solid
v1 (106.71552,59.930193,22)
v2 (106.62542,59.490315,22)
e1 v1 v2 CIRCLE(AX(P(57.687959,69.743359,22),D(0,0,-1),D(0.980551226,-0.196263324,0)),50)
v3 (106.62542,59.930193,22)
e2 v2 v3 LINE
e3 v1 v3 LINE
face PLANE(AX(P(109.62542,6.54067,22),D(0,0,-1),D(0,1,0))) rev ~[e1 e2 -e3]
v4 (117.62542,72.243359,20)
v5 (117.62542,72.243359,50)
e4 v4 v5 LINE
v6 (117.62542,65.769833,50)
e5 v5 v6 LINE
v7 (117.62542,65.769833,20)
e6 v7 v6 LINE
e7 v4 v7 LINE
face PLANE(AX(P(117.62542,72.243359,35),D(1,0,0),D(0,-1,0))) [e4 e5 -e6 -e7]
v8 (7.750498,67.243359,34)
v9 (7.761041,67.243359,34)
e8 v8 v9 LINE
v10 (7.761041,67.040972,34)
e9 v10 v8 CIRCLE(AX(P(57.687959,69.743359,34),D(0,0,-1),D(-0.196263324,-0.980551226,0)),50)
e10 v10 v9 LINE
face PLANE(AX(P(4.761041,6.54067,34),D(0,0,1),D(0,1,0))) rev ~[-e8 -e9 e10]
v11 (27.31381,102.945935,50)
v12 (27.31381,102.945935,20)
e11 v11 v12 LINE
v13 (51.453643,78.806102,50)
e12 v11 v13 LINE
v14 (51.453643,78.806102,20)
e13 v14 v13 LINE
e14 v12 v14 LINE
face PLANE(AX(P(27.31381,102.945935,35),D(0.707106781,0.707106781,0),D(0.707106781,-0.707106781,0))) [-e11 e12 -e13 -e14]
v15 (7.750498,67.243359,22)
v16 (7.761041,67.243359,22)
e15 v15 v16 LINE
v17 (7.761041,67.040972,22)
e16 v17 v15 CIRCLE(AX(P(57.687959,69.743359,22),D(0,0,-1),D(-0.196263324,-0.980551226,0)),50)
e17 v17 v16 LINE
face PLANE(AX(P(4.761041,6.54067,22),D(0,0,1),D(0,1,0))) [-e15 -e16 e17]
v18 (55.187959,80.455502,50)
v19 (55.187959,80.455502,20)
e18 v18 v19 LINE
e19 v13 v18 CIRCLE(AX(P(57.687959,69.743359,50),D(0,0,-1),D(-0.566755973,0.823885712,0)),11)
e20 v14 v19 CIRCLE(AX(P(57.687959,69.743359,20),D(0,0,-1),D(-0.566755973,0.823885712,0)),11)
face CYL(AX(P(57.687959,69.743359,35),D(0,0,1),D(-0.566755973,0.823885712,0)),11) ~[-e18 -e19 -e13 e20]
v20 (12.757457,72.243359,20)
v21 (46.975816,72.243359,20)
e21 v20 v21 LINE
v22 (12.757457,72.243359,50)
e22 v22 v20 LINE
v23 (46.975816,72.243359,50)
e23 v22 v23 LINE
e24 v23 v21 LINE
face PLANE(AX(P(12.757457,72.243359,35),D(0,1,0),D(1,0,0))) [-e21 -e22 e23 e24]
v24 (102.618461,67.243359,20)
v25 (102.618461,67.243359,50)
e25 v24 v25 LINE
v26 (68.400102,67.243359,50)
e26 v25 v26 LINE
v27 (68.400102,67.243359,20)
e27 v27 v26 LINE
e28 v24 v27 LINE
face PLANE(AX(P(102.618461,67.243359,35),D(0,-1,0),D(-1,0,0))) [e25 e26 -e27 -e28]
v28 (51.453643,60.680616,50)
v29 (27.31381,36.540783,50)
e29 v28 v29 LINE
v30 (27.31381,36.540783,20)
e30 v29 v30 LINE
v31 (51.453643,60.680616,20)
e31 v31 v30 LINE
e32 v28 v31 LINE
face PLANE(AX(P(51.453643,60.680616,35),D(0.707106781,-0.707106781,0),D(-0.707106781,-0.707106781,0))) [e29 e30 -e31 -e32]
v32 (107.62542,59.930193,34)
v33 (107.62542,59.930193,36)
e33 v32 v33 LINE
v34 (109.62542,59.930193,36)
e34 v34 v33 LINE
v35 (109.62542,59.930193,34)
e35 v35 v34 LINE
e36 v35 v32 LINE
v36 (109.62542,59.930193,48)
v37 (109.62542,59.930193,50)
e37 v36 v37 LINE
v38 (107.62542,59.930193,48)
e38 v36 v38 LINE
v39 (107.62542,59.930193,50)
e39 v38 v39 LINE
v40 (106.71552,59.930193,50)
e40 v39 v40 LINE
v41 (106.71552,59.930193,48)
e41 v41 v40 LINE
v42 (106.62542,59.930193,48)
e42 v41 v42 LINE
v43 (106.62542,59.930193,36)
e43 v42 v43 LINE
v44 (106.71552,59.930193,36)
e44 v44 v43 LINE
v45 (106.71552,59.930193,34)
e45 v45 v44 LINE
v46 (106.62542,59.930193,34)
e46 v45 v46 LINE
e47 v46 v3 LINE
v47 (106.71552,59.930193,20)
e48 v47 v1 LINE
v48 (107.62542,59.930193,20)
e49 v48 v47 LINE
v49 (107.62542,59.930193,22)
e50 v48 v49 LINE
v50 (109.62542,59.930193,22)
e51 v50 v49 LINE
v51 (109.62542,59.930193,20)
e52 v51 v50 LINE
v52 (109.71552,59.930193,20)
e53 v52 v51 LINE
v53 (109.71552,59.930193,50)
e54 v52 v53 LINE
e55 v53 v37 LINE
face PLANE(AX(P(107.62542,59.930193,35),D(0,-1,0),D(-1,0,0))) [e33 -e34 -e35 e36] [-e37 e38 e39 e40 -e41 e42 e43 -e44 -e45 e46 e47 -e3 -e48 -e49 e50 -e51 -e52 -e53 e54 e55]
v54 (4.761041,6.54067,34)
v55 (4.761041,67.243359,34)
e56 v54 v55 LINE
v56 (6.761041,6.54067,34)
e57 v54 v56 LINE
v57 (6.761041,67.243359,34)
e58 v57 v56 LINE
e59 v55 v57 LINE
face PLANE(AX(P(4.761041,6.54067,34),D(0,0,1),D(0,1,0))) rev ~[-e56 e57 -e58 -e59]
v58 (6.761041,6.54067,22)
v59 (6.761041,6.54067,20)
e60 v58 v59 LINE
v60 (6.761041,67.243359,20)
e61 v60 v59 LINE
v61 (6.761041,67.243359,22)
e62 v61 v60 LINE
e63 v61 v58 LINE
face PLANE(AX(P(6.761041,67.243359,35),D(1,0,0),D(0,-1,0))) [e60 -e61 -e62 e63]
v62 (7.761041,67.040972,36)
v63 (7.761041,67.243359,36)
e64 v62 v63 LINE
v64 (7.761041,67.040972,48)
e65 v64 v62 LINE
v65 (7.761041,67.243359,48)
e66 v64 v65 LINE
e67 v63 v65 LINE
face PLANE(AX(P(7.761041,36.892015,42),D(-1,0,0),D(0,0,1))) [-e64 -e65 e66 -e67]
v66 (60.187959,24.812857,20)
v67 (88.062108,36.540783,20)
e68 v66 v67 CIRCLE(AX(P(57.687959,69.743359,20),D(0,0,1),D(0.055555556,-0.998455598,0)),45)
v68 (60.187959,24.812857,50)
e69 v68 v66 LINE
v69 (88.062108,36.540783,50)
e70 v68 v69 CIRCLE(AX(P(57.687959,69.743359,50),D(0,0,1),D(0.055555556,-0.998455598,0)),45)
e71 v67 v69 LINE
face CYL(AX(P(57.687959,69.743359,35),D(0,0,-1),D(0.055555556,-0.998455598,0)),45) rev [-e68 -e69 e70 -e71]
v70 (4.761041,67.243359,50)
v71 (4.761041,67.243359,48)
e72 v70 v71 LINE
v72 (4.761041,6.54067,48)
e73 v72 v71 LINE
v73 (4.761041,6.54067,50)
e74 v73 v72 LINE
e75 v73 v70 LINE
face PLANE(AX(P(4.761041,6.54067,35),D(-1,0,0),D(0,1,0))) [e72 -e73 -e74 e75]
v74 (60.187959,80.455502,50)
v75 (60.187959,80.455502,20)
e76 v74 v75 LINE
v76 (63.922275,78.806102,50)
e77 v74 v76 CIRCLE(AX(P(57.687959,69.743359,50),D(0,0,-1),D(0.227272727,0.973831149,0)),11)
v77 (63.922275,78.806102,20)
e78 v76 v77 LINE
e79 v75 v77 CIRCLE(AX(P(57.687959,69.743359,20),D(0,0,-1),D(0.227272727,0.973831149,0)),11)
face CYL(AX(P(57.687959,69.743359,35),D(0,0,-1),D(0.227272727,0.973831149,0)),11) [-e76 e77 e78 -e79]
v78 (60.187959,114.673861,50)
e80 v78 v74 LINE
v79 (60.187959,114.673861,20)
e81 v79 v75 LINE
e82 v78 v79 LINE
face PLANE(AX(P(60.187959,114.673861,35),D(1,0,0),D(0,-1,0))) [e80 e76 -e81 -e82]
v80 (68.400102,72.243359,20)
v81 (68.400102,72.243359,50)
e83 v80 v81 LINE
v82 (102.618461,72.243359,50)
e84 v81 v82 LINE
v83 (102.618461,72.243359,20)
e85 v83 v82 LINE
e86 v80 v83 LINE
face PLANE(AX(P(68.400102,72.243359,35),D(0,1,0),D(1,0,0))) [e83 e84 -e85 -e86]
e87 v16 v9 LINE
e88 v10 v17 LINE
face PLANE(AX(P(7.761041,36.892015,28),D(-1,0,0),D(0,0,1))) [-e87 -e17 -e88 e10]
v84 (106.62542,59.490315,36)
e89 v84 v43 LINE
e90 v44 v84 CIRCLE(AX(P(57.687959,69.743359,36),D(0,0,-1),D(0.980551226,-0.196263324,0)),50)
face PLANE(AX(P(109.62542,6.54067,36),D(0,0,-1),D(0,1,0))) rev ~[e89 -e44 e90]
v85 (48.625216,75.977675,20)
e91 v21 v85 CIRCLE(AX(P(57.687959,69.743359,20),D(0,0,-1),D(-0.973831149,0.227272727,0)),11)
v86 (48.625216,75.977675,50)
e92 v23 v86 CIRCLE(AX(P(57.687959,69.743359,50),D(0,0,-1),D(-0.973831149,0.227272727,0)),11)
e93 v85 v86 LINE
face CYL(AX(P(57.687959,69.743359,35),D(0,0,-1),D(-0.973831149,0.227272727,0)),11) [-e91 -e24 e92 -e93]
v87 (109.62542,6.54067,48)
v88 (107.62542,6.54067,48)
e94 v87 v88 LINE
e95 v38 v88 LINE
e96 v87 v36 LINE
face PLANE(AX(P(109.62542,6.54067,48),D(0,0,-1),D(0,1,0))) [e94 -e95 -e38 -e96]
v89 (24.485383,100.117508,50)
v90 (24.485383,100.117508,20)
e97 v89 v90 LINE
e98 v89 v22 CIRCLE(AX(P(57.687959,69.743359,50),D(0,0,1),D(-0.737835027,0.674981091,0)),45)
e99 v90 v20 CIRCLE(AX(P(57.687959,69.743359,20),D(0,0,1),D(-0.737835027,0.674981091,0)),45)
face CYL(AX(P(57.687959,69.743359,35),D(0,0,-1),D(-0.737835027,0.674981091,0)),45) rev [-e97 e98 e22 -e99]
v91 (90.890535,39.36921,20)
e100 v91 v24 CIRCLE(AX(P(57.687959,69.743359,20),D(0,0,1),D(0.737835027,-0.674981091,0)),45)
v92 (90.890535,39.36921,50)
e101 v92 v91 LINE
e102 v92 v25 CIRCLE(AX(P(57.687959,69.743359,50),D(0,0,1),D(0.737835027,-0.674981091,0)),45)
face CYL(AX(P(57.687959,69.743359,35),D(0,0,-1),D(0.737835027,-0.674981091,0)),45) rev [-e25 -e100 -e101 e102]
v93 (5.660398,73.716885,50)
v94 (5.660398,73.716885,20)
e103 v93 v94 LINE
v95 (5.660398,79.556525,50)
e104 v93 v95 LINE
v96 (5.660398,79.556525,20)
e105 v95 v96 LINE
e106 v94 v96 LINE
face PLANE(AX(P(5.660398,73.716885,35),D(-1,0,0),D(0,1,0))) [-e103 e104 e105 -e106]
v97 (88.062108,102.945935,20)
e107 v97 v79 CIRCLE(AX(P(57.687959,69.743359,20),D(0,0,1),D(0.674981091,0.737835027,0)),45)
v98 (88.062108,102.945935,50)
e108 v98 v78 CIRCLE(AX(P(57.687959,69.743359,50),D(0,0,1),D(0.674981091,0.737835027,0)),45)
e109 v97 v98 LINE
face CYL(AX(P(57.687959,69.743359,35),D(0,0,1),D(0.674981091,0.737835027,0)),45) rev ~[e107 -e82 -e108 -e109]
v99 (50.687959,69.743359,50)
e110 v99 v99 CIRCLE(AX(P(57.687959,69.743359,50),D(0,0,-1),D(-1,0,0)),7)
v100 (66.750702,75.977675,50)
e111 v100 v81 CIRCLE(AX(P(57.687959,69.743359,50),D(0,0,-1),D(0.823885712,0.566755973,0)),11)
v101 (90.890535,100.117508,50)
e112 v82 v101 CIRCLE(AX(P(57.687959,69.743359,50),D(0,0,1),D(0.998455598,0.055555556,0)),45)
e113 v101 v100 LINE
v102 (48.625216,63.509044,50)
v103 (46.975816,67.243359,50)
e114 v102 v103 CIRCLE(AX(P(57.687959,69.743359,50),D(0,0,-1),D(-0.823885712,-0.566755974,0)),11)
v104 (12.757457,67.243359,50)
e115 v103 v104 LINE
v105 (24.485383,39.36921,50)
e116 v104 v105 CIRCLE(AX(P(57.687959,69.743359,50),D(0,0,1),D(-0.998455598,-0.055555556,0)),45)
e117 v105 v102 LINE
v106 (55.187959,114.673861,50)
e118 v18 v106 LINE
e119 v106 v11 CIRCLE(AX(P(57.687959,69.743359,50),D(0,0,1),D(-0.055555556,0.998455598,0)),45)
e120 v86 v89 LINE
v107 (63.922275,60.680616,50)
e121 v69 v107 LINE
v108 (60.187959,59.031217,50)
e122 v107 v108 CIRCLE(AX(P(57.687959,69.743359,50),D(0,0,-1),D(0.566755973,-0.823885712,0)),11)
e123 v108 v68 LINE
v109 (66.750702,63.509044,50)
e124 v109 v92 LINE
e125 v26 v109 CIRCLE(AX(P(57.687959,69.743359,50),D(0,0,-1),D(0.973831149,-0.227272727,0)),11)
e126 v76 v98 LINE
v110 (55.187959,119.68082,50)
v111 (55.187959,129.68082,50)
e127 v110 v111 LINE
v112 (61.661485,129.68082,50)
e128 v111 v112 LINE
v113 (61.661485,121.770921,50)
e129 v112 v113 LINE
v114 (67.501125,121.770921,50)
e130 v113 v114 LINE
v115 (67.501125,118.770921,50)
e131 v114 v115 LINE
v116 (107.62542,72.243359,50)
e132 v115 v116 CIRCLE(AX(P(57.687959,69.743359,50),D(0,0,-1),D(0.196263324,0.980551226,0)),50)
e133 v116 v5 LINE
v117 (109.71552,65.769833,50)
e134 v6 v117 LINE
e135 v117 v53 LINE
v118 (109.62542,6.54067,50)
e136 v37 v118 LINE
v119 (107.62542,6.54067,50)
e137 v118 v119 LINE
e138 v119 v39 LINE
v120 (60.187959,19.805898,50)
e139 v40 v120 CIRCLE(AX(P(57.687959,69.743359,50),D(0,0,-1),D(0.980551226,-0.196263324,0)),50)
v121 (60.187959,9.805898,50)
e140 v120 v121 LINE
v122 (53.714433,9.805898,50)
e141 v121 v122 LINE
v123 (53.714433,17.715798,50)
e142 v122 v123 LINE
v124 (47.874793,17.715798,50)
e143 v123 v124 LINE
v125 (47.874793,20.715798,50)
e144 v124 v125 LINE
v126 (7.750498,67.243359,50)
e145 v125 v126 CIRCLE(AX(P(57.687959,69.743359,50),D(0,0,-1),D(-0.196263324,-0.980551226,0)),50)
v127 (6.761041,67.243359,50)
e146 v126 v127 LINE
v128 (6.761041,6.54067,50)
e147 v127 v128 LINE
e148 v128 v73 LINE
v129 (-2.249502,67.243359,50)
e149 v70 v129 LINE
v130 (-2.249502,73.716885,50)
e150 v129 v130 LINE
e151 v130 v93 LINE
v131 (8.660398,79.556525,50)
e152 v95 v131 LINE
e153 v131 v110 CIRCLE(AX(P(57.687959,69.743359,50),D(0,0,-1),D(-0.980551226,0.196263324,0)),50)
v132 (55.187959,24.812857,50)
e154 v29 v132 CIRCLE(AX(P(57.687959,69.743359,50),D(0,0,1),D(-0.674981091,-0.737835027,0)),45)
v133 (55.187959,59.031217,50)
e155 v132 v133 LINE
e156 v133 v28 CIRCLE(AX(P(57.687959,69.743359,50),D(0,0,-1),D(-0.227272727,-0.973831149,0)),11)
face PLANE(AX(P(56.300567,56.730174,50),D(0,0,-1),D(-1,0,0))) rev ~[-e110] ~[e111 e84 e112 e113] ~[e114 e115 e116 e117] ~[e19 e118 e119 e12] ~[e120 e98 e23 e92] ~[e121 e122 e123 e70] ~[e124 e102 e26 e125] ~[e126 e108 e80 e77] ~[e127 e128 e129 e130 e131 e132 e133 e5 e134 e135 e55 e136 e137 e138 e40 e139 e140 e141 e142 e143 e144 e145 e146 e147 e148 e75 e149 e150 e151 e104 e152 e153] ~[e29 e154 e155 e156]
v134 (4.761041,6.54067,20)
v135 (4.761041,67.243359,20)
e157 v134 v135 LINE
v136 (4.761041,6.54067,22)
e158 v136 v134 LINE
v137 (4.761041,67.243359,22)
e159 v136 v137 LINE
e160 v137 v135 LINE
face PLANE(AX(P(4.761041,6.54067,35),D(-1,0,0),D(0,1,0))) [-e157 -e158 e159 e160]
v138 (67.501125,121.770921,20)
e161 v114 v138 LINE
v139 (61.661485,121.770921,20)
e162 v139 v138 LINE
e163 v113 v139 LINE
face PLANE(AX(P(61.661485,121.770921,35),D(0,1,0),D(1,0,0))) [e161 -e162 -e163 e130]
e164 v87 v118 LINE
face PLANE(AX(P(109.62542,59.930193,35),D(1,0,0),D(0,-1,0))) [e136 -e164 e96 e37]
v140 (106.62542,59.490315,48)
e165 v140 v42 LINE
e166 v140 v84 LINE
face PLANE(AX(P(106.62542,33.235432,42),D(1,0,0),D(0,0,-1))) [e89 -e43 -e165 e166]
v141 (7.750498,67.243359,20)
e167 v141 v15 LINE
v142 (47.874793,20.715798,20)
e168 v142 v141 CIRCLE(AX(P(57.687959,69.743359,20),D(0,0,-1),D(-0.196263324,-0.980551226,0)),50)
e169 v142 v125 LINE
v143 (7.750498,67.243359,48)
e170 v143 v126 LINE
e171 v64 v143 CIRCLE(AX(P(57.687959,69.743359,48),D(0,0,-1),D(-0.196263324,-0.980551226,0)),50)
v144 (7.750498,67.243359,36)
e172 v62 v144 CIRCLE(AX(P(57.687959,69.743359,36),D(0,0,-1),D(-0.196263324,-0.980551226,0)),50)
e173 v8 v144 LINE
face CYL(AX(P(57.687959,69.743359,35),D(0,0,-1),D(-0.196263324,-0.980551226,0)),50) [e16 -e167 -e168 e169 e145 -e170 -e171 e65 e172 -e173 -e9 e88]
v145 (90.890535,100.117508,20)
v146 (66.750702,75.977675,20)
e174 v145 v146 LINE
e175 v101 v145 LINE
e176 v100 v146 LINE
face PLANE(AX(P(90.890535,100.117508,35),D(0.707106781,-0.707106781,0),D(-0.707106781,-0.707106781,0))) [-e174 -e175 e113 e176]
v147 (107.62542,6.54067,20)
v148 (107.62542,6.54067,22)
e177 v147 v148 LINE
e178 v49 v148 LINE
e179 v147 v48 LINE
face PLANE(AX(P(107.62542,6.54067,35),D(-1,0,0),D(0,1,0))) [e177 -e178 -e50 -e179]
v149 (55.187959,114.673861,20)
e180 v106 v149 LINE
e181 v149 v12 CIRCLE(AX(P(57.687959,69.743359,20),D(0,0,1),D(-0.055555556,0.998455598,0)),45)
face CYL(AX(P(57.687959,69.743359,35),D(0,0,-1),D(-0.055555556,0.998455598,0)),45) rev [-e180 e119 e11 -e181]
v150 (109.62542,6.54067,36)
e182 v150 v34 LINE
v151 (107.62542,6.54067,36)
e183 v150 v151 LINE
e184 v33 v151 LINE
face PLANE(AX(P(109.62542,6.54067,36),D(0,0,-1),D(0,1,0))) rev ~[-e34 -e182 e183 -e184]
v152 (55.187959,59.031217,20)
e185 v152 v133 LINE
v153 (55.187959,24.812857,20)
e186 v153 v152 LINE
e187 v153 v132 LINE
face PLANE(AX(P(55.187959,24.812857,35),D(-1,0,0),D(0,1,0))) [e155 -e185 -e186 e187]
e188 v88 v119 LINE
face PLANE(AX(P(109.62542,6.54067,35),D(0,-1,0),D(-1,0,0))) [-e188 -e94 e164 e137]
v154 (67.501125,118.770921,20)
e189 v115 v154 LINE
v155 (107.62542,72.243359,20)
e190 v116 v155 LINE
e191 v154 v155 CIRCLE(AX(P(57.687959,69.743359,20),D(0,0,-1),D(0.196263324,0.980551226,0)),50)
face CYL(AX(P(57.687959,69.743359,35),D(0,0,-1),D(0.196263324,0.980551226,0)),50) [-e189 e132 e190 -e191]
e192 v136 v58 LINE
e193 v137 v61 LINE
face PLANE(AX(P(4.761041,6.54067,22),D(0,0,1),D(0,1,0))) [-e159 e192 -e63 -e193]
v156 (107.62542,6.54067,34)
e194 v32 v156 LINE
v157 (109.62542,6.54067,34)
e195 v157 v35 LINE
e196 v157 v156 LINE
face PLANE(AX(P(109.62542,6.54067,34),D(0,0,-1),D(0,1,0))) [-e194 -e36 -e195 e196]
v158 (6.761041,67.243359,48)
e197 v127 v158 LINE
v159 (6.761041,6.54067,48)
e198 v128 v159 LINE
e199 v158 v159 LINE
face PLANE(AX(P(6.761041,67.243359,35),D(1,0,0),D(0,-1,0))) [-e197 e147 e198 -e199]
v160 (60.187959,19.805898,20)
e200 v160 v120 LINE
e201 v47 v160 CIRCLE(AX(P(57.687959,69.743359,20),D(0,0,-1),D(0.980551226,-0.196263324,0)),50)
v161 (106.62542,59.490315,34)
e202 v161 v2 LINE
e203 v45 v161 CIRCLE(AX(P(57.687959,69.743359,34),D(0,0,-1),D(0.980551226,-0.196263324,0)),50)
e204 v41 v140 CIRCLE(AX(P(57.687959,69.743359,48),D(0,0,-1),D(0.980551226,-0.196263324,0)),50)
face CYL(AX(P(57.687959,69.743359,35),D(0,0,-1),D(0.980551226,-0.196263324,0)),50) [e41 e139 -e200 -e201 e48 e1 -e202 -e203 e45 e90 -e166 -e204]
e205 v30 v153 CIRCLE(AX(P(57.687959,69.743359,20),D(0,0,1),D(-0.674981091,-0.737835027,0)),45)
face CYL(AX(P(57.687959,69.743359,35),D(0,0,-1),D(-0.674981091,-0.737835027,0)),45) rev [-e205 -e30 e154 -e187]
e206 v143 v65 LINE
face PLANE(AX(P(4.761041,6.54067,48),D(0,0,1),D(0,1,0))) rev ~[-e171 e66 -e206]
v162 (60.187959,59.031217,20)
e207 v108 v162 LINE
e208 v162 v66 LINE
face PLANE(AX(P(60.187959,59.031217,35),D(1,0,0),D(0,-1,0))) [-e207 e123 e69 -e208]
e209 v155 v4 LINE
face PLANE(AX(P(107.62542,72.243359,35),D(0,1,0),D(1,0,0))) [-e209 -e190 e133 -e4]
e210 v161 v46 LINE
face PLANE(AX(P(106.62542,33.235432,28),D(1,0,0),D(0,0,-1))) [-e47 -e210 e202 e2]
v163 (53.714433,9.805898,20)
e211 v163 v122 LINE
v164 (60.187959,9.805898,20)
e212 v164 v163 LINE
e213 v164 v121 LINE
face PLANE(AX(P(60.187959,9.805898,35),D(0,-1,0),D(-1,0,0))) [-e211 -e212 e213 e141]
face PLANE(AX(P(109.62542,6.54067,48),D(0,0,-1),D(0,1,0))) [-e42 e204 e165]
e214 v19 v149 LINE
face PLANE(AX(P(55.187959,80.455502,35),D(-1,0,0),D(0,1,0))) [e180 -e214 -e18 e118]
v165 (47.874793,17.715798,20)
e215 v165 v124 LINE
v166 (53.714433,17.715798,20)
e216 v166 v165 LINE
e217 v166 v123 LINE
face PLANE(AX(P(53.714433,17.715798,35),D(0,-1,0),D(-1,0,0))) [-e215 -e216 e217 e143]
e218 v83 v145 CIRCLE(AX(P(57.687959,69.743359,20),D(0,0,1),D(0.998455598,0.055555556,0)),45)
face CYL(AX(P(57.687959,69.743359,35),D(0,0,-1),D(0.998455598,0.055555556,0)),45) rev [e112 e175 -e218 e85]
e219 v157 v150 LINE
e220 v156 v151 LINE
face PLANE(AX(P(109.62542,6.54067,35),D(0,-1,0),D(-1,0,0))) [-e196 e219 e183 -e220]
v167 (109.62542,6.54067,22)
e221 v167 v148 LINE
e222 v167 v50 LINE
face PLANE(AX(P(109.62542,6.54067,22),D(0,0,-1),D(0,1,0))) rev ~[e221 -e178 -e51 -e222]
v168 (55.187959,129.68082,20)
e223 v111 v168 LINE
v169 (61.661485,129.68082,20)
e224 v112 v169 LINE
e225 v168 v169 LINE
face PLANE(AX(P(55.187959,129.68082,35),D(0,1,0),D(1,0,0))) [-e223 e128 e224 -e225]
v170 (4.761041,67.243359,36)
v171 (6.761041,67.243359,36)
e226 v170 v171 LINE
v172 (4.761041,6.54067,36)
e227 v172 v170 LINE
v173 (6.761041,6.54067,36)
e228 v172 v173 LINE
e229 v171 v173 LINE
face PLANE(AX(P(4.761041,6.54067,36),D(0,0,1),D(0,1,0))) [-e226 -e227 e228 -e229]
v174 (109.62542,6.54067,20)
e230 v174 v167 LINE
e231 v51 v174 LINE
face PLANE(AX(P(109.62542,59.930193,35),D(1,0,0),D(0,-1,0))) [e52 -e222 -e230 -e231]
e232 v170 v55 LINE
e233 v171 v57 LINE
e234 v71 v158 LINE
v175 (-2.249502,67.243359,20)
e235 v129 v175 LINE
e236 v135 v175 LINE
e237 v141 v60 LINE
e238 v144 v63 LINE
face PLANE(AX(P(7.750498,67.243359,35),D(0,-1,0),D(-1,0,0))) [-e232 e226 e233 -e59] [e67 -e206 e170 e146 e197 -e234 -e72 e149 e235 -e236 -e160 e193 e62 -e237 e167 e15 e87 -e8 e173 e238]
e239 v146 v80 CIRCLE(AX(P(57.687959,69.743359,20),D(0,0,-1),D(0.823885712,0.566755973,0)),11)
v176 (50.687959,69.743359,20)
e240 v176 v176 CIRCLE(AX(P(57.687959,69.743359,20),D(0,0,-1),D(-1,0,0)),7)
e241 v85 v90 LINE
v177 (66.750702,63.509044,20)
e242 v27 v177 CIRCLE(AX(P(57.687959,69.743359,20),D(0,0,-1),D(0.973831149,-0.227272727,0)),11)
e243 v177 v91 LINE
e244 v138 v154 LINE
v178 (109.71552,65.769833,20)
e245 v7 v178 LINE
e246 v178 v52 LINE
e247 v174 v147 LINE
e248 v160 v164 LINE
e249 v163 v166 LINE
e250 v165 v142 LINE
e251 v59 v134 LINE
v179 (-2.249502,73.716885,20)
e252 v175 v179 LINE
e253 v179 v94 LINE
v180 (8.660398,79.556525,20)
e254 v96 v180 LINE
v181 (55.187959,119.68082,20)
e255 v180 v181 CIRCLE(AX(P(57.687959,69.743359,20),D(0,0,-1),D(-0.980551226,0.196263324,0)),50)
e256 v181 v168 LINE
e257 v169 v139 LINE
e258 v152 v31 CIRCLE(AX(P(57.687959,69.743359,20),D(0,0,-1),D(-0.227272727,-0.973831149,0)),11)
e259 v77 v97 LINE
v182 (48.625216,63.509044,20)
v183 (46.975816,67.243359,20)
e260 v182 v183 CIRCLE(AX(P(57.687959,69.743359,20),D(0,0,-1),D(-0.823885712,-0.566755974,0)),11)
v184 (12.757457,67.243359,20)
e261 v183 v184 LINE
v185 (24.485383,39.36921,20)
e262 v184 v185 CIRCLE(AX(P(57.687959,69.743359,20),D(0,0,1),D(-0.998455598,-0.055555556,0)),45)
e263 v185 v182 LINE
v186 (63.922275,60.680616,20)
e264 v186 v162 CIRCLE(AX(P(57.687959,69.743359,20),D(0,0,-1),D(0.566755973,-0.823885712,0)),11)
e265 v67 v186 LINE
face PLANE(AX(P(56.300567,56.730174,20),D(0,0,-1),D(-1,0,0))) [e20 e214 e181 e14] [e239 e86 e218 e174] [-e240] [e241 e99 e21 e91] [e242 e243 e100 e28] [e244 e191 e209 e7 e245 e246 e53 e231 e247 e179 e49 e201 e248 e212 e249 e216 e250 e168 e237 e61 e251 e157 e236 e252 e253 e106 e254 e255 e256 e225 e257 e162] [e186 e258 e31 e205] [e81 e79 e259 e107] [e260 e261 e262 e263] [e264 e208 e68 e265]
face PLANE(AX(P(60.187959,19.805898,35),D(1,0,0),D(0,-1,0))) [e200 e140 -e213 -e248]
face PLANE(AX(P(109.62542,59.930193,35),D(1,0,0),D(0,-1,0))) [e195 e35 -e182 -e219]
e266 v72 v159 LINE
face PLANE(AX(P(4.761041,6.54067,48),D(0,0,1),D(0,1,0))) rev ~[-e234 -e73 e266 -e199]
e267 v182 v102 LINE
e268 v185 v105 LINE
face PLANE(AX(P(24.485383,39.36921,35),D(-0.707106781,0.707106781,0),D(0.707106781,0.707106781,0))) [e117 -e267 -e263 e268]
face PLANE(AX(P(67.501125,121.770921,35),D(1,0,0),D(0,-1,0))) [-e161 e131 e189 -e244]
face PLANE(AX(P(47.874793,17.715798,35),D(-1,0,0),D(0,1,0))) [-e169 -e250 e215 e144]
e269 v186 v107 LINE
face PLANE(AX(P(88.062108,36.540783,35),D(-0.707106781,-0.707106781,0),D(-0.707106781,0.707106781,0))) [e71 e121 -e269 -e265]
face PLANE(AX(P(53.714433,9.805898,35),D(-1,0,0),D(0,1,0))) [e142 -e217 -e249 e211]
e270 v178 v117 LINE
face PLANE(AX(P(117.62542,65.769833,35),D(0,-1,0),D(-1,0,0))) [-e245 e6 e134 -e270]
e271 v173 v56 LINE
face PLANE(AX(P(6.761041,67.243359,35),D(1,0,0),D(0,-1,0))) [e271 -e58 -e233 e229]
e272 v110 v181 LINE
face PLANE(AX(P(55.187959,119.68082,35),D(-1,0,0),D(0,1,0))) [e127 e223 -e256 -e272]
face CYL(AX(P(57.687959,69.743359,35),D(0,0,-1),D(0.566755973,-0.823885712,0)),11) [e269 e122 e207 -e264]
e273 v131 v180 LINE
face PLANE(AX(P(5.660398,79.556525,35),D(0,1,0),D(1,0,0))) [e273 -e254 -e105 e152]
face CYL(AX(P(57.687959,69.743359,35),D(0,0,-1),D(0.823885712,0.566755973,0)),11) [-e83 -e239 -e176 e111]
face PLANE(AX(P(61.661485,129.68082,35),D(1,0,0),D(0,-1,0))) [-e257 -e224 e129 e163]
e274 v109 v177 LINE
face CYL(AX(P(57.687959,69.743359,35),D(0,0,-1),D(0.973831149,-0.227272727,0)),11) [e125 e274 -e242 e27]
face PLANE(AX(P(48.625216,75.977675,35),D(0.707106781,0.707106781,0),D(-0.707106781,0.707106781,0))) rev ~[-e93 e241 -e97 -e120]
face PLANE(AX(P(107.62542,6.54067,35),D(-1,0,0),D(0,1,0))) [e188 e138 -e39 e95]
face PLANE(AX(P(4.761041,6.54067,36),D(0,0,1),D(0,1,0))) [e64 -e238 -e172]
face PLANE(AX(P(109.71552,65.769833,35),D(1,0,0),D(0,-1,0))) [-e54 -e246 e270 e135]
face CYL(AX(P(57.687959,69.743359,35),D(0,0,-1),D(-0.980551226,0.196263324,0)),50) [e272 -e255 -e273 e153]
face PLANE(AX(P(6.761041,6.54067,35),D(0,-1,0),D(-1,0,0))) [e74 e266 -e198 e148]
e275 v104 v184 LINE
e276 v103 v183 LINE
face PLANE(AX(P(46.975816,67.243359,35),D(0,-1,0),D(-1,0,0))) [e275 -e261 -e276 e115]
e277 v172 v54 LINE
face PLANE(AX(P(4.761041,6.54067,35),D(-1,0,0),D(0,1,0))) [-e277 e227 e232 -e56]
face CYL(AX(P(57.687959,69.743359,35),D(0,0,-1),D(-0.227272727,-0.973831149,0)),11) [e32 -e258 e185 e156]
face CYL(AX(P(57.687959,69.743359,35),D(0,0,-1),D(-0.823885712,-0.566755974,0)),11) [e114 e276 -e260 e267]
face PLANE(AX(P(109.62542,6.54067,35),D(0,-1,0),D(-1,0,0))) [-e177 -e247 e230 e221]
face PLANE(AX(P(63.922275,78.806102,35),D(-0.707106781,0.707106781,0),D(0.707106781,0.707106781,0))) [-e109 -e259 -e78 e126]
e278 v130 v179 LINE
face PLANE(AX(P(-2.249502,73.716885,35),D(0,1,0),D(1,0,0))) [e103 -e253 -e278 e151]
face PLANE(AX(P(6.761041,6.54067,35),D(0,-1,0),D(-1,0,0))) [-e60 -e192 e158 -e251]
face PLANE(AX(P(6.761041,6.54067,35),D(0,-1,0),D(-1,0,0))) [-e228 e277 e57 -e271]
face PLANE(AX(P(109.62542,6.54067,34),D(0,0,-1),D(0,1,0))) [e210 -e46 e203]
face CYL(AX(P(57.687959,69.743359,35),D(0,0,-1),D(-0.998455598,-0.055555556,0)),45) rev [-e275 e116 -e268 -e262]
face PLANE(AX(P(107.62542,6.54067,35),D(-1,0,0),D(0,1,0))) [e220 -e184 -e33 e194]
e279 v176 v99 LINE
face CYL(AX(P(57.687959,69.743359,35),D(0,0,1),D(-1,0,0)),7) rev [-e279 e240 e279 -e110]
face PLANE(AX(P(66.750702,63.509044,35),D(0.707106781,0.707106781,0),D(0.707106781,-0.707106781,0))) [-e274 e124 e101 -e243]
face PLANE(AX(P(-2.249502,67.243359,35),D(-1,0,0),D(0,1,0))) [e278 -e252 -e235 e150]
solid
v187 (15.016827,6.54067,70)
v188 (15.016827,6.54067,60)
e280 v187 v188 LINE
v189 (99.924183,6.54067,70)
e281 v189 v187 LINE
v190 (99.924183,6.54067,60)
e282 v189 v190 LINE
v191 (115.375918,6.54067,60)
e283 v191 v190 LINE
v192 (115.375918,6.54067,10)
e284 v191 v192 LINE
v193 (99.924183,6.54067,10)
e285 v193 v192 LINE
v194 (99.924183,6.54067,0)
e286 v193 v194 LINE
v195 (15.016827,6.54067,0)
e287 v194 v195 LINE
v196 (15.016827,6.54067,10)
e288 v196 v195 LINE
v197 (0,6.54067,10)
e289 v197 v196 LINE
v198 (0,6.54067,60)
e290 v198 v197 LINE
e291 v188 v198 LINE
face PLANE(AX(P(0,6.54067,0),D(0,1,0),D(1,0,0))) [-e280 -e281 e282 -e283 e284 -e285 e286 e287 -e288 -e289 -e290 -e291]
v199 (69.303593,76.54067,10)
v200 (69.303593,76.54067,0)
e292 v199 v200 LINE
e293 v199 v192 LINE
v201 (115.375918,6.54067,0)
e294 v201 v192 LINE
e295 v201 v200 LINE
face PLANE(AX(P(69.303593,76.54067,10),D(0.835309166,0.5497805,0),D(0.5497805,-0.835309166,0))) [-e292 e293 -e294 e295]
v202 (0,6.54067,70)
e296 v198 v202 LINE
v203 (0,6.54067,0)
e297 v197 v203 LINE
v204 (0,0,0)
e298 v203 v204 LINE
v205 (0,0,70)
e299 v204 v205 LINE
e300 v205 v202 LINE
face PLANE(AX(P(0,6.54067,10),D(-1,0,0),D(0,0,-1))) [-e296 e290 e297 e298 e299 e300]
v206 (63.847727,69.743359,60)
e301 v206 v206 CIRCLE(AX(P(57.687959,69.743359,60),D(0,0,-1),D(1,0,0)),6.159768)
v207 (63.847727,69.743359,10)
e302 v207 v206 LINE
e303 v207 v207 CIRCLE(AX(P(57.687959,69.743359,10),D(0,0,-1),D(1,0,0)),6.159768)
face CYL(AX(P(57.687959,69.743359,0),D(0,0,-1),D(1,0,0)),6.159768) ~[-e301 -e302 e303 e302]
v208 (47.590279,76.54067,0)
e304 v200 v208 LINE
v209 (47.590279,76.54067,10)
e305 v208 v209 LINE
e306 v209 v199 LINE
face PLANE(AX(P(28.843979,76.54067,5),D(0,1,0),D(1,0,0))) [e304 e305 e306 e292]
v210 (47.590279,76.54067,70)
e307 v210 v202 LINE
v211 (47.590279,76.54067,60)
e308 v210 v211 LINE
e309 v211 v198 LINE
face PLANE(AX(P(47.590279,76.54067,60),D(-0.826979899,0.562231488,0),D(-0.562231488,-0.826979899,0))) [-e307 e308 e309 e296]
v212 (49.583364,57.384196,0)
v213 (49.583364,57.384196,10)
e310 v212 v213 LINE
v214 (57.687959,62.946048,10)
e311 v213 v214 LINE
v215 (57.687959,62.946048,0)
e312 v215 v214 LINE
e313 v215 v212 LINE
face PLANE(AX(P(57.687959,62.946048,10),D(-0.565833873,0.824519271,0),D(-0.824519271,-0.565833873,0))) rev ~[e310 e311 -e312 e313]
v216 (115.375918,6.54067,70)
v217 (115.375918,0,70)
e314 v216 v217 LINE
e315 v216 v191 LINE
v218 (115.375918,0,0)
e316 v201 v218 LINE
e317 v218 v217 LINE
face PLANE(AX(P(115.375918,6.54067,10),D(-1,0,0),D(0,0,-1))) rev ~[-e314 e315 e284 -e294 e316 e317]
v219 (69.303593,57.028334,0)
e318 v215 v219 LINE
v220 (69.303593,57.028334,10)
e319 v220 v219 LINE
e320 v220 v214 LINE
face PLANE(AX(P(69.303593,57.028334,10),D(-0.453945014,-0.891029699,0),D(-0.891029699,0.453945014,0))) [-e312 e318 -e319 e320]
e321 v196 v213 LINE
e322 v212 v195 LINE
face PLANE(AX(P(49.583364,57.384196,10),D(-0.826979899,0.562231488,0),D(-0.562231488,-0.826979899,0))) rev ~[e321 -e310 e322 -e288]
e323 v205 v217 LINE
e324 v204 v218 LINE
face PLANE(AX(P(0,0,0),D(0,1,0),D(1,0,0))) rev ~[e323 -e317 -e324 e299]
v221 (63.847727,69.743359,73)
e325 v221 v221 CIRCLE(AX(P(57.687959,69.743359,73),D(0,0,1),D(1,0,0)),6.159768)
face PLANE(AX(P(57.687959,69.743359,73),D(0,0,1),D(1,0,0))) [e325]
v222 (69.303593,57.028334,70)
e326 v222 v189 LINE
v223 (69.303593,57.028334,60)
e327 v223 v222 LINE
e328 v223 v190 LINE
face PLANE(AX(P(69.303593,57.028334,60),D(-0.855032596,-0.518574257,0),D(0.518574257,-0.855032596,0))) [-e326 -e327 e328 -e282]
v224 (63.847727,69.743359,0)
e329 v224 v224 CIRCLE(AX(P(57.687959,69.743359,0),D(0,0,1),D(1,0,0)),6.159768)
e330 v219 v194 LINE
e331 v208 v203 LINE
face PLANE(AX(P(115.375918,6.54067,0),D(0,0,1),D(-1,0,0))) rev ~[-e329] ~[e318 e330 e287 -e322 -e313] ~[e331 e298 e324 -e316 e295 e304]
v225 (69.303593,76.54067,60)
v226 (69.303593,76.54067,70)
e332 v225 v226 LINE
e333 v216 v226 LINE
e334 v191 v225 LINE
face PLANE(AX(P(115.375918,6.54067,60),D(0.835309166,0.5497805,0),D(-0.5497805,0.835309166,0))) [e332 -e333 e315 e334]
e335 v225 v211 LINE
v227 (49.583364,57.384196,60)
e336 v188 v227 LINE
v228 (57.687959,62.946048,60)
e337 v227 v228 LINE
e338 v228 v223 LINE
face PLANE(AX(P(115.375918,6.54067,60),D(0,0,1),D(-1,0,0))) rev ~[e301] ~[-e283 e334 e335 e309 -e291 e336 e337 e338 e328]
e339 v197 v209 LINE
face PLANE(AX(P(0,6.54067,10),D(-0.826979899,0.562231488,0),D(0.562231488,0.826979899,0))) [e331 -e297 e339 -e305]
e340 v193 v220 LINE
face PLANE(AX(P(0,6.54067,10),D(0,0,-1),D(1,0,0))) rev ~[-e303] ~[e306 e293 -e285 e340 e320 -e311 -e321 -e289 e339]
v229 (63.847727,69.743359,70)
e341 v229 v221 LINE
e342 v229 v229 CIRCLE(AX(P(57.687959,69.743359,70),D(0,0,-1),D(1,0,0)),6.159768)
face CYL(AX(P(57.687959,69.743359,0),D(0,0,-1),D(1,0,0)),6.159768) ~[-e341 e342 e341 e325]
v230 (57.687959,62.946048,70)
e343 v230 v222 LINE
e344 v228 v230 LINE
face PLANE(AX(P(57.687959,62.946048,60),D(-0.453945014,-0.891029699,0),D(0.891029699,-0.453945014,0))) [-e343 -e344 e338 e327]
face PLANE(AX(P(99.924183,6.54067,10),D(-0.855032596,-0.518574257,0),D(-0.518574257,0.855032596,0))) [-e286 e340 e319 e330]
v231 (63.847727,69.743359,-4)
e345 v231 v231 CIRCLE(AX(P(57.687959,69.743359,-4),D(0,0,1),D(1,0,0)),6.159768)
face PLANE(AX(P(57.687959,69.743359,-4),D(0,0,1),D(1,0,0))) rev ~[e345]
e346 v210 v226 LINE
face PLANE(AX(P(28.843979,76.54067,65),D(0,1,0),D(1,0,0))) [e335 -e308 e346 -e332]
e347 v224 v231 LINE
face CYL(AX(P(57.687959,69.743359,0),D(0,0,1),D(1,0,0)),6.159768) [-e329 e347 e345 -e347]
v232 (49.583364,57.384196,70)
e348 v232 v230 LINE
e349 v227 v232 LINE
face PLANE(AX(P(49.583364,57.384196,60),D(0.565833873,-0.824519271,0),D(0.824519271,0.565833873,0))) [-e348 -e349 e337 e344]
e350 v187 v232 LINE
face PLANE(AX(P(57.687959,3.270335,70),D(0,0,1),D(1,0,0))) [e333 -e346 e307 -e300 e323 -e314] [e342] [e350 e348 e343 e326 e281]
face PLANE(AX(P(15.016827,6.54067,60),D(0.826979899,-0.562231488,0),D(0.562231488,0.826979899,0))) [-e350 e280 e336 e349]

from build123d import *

# Parameters (mm, degrees)
CROQUIS1_W                   = 115.375917884
CROQUIS1_H                   = 6.540670241
SALIENTE_EXTRUIR1_DEPTH      = 70
CROQUIS4_W                   = 57.687958942
CROQUIS4_H                   = 10
SALIENTE_EXTRUIR2_DEPTH      = 70
CORTAR_EXTRUIR2_DEPTH        = 35
CORTAR_EXTRUIR3_DEPTH        = 35
CROQUIS7_R                   = 6.05660598
CORTAR_EXTRUIR4_DEPTH        = 35
CROQUIS10_R                  = 6.159768466
SALIENTE_EXTRUIR3_DEPTH      = 73
SALIENTE_EXTRUIR3_DEPTH_BACK = 4
CROQUIS25_R                  = 7
SALIENTE_EXTRUIR12_DEPTH     = 15
CROQUIS29_W                  = 12
CROQUIS29_H                  = 53.389522775
CORTAR_EXTRUIR6_DEPTH        = 3
CROQUIS33_W                  = 12
CROQUIS33_H                  = 60.702688994
CORTAR_EXTRUIR8_DEPTH        = 3


with BuildPart() as part:
    # Croquis1 → Saliente-Extruir1 (new body)
    with BuildSketch(Plane.XY):
        with Locations((57.687958942, 3.270335121)):
            Rectangle(CROQUIS1_W, CROQUIS1_H)
    extrude(amount=SALIENTE_EXTRUIR1_DEPTH)

    # Croquis4 → Saliente-Extruir2 (add)
    with BuildSketch(Plane(origin=(0, 6.540670241, 0), x_dir=(1, 0, 0), z_dir=(0, 1, 0))):
        with Locations((28.843979471, -5)):
            Rectangle(CROQUIS4_W, CROQUIS4_H)
        with Locations((86.531938413, -5)):
            Rectangle(CROQUIS4_W, CROQUIS4_H)
        with Locations((28.843979471, -65)):
            Rectangle(CROQUIS4_W, CROQUIS4_H)
        with Locations((86.531938413, -65)):
            Rectangle(CROQUIS4_W, CROQUIS4_H)
    extrude(amount=SALIENTE_EXTRUIR2_DEPTH)

    # Croquis5 → Cortar-Extruir2 (cut, symmetric)
    with BuildSketch(Plane.XY.offset(10)):
        Polygon((0, 6.540670241), (47.590279049, 76.540670241), (0, 76.540670241), align=None)
        Polygon((57.687958942, 6.540670241), (57.687958942, 62.946048228), (49.583363908, 57.38419593), (15.016827117, 6.540670241), align=None)
    extrude(amount=CORTAR_EXTRUIR2_DEPTH, both=True, mode=Mode.SUBTRACT)

    # Croquis6 → Cortar-Extruir3 (cut, symmetric)
    with BuildSketch(Plane.XY.offset(10)):
        Polygon((69.303593334, 57.028333792), (57.687958942, 62.946048228), (57.687958942, 6.540670241), (99.924183433, 6.540670241), align=None)
        Polygon((69.303593334, 76.540670241), (115.375917884, 6.540670241), (115.375917884, 76.540670241), align=None)
        with BuildLine():
            ThreePointArc((57.687958942, 75.799965215), (51.631352961, 69.743359235), (57.687958942, 63.686753254))
            Line((57.687958942, 63.686753254), (57.687958942, 75.799965215))
        make_face()
        with BuildLine():
            Line((57.687958942, 75.799965215), (57.687958942, 63.686753254))
            ThreePointArc((57.687958942, 63.686753254), (61.970626102, 65.460692075), (63.744564922, 69.743359235))
            ThreePointArc((63.744564922, 69.743359235), (61.970626102, 74.026026395), (57.687958942, 75.799965215))
        make_face()
    extrude(amount=CORTAR_EXTRUIR3_DEPTH, both=True, mode=Mode.SUBTRACT)

    # Croquis7 → Cortar-Extruir4 (cut, symmetric)
    with BuildSketch(Plane(origin=(0, 0, 60), x_dir=(-1, 0, 0), z_dir=(0, 0, -1))):
        Polygon((0, 76.540670241), (-47.590279049, 76.540670241), (0, 6.540670241), align=None)
        Polygon((-69.303593334, 57.028333792), (-99.924183433, 6.540670241), (-15.016827117, 6.540670241), (-49.583363908, 57.38419593), (-57.687958942, 62.946048228), align=None)
        Polygon((-115.375917884, 76.540670241), (-115.375917884, 6.540670241), (-69.303593334, 76.540670241), align=None)
        with Locations((-57.687958942, 69.743359235)):
            Circle(CROQUIS7_R)
    extrude(amount=CORTAR_EXTRUIR4_DEPTH, both=True, mode=Mode.SUBTRACT)

    # Croquis10 → Saliente-Extruir3 (add, two sides)
    with BuildSketch(Plane.XY) as saliente_extruir3_sk:
        with Locations((57.687958942, 69.743359235)):
            Circle(CROQUIS10_R)
    extrude(amount=SALIENTE_EXTRUIR3_DEPTH)
    extrude(saliente_extruir3_sk.sketch, amount=-SALIENTE_EXTRUIR3_DEPTH_BACK)


with BuildPart() as body_2:
    # Croquis25 → Saliente-Extruir12 (new body, symmetric)
    with BuildSketch(Plane(origin=(0, 0, 35), x_dir=(-1, 0, 0), z_dir=(0, 0, -1))):
        with BuildLine():
            Line((-7.750498053, 67.243359235), (-6.761041311, 67.243359235))
            Line((-6.761041311, 67.243359235), (-6.761041311, 6.540670241))
            Line((-6.761041311, 6.540670241), (-4.761041311, 6.540670241))
            Line((-4.761041311, 6.540670241), (-4.761041311, 67.243359235))
            Line((-4.761041311, 67.243359235), (2.249501947, 67.243359235))
            Line((2.249501947, 67.243359235), (2.249501947, 73.716885116))
            Line((2.249501947, 73.716885116), (-5.660397624, 73.716885116))
            Line((-5.660397624, 73.716885116), (-5.660397624, 79.556525453))
            Line((-5.660397624, 79.556525453), (-8.660397624, 79.556525453))
            ThreePointArc((-8.660397624, 79.556525453), (-25.034289171, 107.608090192), (-55.187958942, 119.680820123))
            Line((-55.187958942, 119.680820123), (-55.187958942, 129.680820123))
            Line((-55.187958942, 129.680820123), (-61.661484823, 129.680820123))
            Line((-61.661484823, 129.680820123), (-61.661484823, 121.770920553))
            Line((-61.661484823, 121.770920553), (-67.50112516, 121.770920553))
            Line((-67.50112516, 121.770920553), (-67.50112516, 118.770920553))
            ThreePointArc((-67.50112516, 118.770920553), (-95.552689899, 102.397029006), (-107.62541983, 72.243359235))
            Line((-107.62541983, 72.243359235), (-117.62541983, 72.243359235))
            Line((-117.62541983, 72.243359235), (-117.62541983, 65.769833354))
            Line((-117.62541983, 65.769833354), (-109.71552026, 65.769833354))
            Line((-109.71552026, 65.769833354), (-109.71552026, 59.930193016))
            Line((-109.71552026, 59.930193016), (-109.62541983, 59.930193016))
            Line((-109.62541983, 59.930193016), (-109.62541983, 6.540670241))
            Line((-109.62541983, 6.540670241), (-107.62541983, 6.540670241))
            Line((-107.62541983, 6.540670241), (-107.62541983, 59.930193016))
            Line((-107.62541983, 59.930193016), (-106.71552026, 59.930193016))
            ThreePointArc((-106.71552026, 59.930193016), (-90.341628713, 31.878628277), (-60.187958942, 19.805898346))
            Line((-60.187958942, 19.805898346), (-60.187958942, 9.805898346))
            Line((-60.187958942, 9.805898346), (-53.714433061, 9.805898346))
            Line((-53.714433061, 9.805898346), (-53.714433061, 17.715797917))
            Line((-53.714433061, 17.715797917), (-47.874792723, 17.715797917))
            Line((-47.874792723, 17.715797917), (-47.874792723, 20.715797917))
            ThreePointArc((-47.874792723, 20.715797917), (-19.823227985, 37.089689464), (-7.750498053, 67.243359235))
        make_face()
        with BuildLine():
            Line((-60.187958942, 59.031216592), (-60.187958942, 24.812857346))
            ThreePointArc((-60.187958942, 24.812857346), (-75.139706125, 28.265214143), (-88.06210803, 36.540783022))
            Line((-88.06210803, 36.540783022), (-63.92227465, 60.680616402))
            ThreePointArc((-63.92227465, 60.680616402), (-62.132303399, 59.681162539), (-60.187958942, 59.031216592))
        make_face(mode=Mode.SUBTRACT)
        with BuildLine():
            Line((-66.750701775, 63.509043527), (-90.890535155, 39.369210147))
            ThreePointArc((-90.890535155, 39.369210147), (-99.166104034, 52.291612052), (-102.618460831, 67.243359235))
            Line((-102.618460831, 67.243359235), (-68.400101585, 67.243359235))
            ThreePointArc((-68.400101585, 67.243359235), (-67.750155638, 65.299014777), (-66.750701775, 63.509043527))
        make_face(mode=Mode.SUBTRACT)
        with BuildLine():
            Line((-51.453643234, 60.680616402), (-27.313809854, 36.540783022))
            ThreePointArc((-27.313809854, 36.540783022), (-40.236211759, 28.265214143), (-55.187958942, 24.812857346))
            Line((-55.187958942, 24.812857346), (-55.187958942, 59.031216592))
            ThreePointArc((-55.187958942, 59.031216592), (-53.243614485, 59.681162539), (-51.453643234, 60.680616402))
        make_face(mode=Mode.SUBTRACT)
        with Locations((-57.687958942, 69.743359235)):
            Circle(CROQUIS25_R, mode=Mode.SUBTRACT)
        with BuildLine():
            Line((-46.975816299, 67.243359235), (-12.757457053, 67.243359235))
            ThreePointArc((-12.757457053, 67.243359235), (-16.20981385, 52.291612052), (-24.485382729, 39.369210147))
            Line((-24.485382729, 39.369210147), (-48.625216109, 63.509043527))
            ThreePointArc((-48.625216109, 63.509043527), (-47.625762246, 65.299014777), (-46.975816299, 67.243359235))
        make_face(mode=Mode.SUBTRACT)
        with BuildLine():
            Line((-90.890535155, 100.117508323), (-66.750701775, 75.977674943))
            ThreePointArc((-66.750701775, 75.977674943), (-67.750155638, 74.187703692), (-68.400101585, 72.243359235))
            Line((-68.400101585, 72.243359235), (-102.618460831, 72.243359235))
            ThreePointArc((-102.618460831, 72.243359235), (-99.166104034, 87.195106418), (-90.890535155, 100.117508323))
        make_face(mode=Mode.SUBTRACT)
        with BuildLine():
            Line((-63.92227465, 78.806102068), (-88.06210803, 102.945935448))
            ThreePointArc((-88.06210803, 102.945935448), (-75.139706125, 111.221504327), (-60.187958942, 114.673861124))
            Line((-60.187958942, 114.673861124), (-60.187958942, 80.455501878))
            ThreePointArc((-60.187958942, 80.455501878), (-62.132303399, 79.805555931), (-63.92227465, 78.806102068))
        make_face(mode=Mode.SUBTRACT)
        with BuildLine():
            Line((-27.313809854, 102.945935448), (-51.453643234, 78.806102068))
            ThreePointArc((-51.453643234, 78.806102068), (-53.243614485, 79.805555931), (-55.187958942, 80.455501878))
            Line((-55.187958942, 80.455501878), (-55.187958942, 114.673861124))
            ThreePointArc((-55.187958942, 114.673861124), (-40.236211759, 111.221504327), (-27.313809854, 102.945935448))
        make_face(mode=Mode.SUBTRACT)
        with BuildLine():
            Line((-48.625216109, 75.977674943), (-24.485382729, 100.117508323))
            ThreePointArc((-24.485382729, 100.117508323), (-16.20981385, 87.195106418), (-12.757457053, 72.243359235))
            Line((-12.757457053, 72.243359235), (-46.975816299, 72.243359235))
            ThreePointArc((-46.975816299, 72.243359235), (-47.625762246, 74.187703692), (-48.625216109, 75.977674943))
        make_face(mode=Mode.SUBTRACT)
    extrude(amount=SALIENTE_EXTRUIR12_DEPTH, both=True)

    # Croquis29 → Cortar-Extruir6 (cut)
    with BuildSketch(Plane(origin=(109.62541983, 0, 0), x_dir=(0, 0, -1), z_dir=(1, 0, 0))):
        with Locations((-42, 33.235431629)):
            Rectangle(CROQUIS29_W, CROQUIS29_H)
        with Locations((-28, 33.235431629)):
            Rectangle(CROQUIS29_W, CROQUIS29_H)
    extrude(amount=-CORTAR_EXTRUIR6_DEPTH, mode=Mode.SUBTRACT)

    # Croquis33 → Cortar-Extruir8 (cut)
    with BuildSketch(Plane.ZY.offset(-4.761041311)):
        with Locations((28, 36.892014738)):
            Rectangle(CROQUIS33_W, CROQUIS33_H)
        with Locations((42, 36.892014738)):
            Rectangle(CROQUIS33_W, CROQUIS33_H)
    extrude(amount=-CORTAR_EXTRUIR8_DEPTH, mode=Mode.SUBTRACT)


solid = Compound([part.part, body_2.part])
